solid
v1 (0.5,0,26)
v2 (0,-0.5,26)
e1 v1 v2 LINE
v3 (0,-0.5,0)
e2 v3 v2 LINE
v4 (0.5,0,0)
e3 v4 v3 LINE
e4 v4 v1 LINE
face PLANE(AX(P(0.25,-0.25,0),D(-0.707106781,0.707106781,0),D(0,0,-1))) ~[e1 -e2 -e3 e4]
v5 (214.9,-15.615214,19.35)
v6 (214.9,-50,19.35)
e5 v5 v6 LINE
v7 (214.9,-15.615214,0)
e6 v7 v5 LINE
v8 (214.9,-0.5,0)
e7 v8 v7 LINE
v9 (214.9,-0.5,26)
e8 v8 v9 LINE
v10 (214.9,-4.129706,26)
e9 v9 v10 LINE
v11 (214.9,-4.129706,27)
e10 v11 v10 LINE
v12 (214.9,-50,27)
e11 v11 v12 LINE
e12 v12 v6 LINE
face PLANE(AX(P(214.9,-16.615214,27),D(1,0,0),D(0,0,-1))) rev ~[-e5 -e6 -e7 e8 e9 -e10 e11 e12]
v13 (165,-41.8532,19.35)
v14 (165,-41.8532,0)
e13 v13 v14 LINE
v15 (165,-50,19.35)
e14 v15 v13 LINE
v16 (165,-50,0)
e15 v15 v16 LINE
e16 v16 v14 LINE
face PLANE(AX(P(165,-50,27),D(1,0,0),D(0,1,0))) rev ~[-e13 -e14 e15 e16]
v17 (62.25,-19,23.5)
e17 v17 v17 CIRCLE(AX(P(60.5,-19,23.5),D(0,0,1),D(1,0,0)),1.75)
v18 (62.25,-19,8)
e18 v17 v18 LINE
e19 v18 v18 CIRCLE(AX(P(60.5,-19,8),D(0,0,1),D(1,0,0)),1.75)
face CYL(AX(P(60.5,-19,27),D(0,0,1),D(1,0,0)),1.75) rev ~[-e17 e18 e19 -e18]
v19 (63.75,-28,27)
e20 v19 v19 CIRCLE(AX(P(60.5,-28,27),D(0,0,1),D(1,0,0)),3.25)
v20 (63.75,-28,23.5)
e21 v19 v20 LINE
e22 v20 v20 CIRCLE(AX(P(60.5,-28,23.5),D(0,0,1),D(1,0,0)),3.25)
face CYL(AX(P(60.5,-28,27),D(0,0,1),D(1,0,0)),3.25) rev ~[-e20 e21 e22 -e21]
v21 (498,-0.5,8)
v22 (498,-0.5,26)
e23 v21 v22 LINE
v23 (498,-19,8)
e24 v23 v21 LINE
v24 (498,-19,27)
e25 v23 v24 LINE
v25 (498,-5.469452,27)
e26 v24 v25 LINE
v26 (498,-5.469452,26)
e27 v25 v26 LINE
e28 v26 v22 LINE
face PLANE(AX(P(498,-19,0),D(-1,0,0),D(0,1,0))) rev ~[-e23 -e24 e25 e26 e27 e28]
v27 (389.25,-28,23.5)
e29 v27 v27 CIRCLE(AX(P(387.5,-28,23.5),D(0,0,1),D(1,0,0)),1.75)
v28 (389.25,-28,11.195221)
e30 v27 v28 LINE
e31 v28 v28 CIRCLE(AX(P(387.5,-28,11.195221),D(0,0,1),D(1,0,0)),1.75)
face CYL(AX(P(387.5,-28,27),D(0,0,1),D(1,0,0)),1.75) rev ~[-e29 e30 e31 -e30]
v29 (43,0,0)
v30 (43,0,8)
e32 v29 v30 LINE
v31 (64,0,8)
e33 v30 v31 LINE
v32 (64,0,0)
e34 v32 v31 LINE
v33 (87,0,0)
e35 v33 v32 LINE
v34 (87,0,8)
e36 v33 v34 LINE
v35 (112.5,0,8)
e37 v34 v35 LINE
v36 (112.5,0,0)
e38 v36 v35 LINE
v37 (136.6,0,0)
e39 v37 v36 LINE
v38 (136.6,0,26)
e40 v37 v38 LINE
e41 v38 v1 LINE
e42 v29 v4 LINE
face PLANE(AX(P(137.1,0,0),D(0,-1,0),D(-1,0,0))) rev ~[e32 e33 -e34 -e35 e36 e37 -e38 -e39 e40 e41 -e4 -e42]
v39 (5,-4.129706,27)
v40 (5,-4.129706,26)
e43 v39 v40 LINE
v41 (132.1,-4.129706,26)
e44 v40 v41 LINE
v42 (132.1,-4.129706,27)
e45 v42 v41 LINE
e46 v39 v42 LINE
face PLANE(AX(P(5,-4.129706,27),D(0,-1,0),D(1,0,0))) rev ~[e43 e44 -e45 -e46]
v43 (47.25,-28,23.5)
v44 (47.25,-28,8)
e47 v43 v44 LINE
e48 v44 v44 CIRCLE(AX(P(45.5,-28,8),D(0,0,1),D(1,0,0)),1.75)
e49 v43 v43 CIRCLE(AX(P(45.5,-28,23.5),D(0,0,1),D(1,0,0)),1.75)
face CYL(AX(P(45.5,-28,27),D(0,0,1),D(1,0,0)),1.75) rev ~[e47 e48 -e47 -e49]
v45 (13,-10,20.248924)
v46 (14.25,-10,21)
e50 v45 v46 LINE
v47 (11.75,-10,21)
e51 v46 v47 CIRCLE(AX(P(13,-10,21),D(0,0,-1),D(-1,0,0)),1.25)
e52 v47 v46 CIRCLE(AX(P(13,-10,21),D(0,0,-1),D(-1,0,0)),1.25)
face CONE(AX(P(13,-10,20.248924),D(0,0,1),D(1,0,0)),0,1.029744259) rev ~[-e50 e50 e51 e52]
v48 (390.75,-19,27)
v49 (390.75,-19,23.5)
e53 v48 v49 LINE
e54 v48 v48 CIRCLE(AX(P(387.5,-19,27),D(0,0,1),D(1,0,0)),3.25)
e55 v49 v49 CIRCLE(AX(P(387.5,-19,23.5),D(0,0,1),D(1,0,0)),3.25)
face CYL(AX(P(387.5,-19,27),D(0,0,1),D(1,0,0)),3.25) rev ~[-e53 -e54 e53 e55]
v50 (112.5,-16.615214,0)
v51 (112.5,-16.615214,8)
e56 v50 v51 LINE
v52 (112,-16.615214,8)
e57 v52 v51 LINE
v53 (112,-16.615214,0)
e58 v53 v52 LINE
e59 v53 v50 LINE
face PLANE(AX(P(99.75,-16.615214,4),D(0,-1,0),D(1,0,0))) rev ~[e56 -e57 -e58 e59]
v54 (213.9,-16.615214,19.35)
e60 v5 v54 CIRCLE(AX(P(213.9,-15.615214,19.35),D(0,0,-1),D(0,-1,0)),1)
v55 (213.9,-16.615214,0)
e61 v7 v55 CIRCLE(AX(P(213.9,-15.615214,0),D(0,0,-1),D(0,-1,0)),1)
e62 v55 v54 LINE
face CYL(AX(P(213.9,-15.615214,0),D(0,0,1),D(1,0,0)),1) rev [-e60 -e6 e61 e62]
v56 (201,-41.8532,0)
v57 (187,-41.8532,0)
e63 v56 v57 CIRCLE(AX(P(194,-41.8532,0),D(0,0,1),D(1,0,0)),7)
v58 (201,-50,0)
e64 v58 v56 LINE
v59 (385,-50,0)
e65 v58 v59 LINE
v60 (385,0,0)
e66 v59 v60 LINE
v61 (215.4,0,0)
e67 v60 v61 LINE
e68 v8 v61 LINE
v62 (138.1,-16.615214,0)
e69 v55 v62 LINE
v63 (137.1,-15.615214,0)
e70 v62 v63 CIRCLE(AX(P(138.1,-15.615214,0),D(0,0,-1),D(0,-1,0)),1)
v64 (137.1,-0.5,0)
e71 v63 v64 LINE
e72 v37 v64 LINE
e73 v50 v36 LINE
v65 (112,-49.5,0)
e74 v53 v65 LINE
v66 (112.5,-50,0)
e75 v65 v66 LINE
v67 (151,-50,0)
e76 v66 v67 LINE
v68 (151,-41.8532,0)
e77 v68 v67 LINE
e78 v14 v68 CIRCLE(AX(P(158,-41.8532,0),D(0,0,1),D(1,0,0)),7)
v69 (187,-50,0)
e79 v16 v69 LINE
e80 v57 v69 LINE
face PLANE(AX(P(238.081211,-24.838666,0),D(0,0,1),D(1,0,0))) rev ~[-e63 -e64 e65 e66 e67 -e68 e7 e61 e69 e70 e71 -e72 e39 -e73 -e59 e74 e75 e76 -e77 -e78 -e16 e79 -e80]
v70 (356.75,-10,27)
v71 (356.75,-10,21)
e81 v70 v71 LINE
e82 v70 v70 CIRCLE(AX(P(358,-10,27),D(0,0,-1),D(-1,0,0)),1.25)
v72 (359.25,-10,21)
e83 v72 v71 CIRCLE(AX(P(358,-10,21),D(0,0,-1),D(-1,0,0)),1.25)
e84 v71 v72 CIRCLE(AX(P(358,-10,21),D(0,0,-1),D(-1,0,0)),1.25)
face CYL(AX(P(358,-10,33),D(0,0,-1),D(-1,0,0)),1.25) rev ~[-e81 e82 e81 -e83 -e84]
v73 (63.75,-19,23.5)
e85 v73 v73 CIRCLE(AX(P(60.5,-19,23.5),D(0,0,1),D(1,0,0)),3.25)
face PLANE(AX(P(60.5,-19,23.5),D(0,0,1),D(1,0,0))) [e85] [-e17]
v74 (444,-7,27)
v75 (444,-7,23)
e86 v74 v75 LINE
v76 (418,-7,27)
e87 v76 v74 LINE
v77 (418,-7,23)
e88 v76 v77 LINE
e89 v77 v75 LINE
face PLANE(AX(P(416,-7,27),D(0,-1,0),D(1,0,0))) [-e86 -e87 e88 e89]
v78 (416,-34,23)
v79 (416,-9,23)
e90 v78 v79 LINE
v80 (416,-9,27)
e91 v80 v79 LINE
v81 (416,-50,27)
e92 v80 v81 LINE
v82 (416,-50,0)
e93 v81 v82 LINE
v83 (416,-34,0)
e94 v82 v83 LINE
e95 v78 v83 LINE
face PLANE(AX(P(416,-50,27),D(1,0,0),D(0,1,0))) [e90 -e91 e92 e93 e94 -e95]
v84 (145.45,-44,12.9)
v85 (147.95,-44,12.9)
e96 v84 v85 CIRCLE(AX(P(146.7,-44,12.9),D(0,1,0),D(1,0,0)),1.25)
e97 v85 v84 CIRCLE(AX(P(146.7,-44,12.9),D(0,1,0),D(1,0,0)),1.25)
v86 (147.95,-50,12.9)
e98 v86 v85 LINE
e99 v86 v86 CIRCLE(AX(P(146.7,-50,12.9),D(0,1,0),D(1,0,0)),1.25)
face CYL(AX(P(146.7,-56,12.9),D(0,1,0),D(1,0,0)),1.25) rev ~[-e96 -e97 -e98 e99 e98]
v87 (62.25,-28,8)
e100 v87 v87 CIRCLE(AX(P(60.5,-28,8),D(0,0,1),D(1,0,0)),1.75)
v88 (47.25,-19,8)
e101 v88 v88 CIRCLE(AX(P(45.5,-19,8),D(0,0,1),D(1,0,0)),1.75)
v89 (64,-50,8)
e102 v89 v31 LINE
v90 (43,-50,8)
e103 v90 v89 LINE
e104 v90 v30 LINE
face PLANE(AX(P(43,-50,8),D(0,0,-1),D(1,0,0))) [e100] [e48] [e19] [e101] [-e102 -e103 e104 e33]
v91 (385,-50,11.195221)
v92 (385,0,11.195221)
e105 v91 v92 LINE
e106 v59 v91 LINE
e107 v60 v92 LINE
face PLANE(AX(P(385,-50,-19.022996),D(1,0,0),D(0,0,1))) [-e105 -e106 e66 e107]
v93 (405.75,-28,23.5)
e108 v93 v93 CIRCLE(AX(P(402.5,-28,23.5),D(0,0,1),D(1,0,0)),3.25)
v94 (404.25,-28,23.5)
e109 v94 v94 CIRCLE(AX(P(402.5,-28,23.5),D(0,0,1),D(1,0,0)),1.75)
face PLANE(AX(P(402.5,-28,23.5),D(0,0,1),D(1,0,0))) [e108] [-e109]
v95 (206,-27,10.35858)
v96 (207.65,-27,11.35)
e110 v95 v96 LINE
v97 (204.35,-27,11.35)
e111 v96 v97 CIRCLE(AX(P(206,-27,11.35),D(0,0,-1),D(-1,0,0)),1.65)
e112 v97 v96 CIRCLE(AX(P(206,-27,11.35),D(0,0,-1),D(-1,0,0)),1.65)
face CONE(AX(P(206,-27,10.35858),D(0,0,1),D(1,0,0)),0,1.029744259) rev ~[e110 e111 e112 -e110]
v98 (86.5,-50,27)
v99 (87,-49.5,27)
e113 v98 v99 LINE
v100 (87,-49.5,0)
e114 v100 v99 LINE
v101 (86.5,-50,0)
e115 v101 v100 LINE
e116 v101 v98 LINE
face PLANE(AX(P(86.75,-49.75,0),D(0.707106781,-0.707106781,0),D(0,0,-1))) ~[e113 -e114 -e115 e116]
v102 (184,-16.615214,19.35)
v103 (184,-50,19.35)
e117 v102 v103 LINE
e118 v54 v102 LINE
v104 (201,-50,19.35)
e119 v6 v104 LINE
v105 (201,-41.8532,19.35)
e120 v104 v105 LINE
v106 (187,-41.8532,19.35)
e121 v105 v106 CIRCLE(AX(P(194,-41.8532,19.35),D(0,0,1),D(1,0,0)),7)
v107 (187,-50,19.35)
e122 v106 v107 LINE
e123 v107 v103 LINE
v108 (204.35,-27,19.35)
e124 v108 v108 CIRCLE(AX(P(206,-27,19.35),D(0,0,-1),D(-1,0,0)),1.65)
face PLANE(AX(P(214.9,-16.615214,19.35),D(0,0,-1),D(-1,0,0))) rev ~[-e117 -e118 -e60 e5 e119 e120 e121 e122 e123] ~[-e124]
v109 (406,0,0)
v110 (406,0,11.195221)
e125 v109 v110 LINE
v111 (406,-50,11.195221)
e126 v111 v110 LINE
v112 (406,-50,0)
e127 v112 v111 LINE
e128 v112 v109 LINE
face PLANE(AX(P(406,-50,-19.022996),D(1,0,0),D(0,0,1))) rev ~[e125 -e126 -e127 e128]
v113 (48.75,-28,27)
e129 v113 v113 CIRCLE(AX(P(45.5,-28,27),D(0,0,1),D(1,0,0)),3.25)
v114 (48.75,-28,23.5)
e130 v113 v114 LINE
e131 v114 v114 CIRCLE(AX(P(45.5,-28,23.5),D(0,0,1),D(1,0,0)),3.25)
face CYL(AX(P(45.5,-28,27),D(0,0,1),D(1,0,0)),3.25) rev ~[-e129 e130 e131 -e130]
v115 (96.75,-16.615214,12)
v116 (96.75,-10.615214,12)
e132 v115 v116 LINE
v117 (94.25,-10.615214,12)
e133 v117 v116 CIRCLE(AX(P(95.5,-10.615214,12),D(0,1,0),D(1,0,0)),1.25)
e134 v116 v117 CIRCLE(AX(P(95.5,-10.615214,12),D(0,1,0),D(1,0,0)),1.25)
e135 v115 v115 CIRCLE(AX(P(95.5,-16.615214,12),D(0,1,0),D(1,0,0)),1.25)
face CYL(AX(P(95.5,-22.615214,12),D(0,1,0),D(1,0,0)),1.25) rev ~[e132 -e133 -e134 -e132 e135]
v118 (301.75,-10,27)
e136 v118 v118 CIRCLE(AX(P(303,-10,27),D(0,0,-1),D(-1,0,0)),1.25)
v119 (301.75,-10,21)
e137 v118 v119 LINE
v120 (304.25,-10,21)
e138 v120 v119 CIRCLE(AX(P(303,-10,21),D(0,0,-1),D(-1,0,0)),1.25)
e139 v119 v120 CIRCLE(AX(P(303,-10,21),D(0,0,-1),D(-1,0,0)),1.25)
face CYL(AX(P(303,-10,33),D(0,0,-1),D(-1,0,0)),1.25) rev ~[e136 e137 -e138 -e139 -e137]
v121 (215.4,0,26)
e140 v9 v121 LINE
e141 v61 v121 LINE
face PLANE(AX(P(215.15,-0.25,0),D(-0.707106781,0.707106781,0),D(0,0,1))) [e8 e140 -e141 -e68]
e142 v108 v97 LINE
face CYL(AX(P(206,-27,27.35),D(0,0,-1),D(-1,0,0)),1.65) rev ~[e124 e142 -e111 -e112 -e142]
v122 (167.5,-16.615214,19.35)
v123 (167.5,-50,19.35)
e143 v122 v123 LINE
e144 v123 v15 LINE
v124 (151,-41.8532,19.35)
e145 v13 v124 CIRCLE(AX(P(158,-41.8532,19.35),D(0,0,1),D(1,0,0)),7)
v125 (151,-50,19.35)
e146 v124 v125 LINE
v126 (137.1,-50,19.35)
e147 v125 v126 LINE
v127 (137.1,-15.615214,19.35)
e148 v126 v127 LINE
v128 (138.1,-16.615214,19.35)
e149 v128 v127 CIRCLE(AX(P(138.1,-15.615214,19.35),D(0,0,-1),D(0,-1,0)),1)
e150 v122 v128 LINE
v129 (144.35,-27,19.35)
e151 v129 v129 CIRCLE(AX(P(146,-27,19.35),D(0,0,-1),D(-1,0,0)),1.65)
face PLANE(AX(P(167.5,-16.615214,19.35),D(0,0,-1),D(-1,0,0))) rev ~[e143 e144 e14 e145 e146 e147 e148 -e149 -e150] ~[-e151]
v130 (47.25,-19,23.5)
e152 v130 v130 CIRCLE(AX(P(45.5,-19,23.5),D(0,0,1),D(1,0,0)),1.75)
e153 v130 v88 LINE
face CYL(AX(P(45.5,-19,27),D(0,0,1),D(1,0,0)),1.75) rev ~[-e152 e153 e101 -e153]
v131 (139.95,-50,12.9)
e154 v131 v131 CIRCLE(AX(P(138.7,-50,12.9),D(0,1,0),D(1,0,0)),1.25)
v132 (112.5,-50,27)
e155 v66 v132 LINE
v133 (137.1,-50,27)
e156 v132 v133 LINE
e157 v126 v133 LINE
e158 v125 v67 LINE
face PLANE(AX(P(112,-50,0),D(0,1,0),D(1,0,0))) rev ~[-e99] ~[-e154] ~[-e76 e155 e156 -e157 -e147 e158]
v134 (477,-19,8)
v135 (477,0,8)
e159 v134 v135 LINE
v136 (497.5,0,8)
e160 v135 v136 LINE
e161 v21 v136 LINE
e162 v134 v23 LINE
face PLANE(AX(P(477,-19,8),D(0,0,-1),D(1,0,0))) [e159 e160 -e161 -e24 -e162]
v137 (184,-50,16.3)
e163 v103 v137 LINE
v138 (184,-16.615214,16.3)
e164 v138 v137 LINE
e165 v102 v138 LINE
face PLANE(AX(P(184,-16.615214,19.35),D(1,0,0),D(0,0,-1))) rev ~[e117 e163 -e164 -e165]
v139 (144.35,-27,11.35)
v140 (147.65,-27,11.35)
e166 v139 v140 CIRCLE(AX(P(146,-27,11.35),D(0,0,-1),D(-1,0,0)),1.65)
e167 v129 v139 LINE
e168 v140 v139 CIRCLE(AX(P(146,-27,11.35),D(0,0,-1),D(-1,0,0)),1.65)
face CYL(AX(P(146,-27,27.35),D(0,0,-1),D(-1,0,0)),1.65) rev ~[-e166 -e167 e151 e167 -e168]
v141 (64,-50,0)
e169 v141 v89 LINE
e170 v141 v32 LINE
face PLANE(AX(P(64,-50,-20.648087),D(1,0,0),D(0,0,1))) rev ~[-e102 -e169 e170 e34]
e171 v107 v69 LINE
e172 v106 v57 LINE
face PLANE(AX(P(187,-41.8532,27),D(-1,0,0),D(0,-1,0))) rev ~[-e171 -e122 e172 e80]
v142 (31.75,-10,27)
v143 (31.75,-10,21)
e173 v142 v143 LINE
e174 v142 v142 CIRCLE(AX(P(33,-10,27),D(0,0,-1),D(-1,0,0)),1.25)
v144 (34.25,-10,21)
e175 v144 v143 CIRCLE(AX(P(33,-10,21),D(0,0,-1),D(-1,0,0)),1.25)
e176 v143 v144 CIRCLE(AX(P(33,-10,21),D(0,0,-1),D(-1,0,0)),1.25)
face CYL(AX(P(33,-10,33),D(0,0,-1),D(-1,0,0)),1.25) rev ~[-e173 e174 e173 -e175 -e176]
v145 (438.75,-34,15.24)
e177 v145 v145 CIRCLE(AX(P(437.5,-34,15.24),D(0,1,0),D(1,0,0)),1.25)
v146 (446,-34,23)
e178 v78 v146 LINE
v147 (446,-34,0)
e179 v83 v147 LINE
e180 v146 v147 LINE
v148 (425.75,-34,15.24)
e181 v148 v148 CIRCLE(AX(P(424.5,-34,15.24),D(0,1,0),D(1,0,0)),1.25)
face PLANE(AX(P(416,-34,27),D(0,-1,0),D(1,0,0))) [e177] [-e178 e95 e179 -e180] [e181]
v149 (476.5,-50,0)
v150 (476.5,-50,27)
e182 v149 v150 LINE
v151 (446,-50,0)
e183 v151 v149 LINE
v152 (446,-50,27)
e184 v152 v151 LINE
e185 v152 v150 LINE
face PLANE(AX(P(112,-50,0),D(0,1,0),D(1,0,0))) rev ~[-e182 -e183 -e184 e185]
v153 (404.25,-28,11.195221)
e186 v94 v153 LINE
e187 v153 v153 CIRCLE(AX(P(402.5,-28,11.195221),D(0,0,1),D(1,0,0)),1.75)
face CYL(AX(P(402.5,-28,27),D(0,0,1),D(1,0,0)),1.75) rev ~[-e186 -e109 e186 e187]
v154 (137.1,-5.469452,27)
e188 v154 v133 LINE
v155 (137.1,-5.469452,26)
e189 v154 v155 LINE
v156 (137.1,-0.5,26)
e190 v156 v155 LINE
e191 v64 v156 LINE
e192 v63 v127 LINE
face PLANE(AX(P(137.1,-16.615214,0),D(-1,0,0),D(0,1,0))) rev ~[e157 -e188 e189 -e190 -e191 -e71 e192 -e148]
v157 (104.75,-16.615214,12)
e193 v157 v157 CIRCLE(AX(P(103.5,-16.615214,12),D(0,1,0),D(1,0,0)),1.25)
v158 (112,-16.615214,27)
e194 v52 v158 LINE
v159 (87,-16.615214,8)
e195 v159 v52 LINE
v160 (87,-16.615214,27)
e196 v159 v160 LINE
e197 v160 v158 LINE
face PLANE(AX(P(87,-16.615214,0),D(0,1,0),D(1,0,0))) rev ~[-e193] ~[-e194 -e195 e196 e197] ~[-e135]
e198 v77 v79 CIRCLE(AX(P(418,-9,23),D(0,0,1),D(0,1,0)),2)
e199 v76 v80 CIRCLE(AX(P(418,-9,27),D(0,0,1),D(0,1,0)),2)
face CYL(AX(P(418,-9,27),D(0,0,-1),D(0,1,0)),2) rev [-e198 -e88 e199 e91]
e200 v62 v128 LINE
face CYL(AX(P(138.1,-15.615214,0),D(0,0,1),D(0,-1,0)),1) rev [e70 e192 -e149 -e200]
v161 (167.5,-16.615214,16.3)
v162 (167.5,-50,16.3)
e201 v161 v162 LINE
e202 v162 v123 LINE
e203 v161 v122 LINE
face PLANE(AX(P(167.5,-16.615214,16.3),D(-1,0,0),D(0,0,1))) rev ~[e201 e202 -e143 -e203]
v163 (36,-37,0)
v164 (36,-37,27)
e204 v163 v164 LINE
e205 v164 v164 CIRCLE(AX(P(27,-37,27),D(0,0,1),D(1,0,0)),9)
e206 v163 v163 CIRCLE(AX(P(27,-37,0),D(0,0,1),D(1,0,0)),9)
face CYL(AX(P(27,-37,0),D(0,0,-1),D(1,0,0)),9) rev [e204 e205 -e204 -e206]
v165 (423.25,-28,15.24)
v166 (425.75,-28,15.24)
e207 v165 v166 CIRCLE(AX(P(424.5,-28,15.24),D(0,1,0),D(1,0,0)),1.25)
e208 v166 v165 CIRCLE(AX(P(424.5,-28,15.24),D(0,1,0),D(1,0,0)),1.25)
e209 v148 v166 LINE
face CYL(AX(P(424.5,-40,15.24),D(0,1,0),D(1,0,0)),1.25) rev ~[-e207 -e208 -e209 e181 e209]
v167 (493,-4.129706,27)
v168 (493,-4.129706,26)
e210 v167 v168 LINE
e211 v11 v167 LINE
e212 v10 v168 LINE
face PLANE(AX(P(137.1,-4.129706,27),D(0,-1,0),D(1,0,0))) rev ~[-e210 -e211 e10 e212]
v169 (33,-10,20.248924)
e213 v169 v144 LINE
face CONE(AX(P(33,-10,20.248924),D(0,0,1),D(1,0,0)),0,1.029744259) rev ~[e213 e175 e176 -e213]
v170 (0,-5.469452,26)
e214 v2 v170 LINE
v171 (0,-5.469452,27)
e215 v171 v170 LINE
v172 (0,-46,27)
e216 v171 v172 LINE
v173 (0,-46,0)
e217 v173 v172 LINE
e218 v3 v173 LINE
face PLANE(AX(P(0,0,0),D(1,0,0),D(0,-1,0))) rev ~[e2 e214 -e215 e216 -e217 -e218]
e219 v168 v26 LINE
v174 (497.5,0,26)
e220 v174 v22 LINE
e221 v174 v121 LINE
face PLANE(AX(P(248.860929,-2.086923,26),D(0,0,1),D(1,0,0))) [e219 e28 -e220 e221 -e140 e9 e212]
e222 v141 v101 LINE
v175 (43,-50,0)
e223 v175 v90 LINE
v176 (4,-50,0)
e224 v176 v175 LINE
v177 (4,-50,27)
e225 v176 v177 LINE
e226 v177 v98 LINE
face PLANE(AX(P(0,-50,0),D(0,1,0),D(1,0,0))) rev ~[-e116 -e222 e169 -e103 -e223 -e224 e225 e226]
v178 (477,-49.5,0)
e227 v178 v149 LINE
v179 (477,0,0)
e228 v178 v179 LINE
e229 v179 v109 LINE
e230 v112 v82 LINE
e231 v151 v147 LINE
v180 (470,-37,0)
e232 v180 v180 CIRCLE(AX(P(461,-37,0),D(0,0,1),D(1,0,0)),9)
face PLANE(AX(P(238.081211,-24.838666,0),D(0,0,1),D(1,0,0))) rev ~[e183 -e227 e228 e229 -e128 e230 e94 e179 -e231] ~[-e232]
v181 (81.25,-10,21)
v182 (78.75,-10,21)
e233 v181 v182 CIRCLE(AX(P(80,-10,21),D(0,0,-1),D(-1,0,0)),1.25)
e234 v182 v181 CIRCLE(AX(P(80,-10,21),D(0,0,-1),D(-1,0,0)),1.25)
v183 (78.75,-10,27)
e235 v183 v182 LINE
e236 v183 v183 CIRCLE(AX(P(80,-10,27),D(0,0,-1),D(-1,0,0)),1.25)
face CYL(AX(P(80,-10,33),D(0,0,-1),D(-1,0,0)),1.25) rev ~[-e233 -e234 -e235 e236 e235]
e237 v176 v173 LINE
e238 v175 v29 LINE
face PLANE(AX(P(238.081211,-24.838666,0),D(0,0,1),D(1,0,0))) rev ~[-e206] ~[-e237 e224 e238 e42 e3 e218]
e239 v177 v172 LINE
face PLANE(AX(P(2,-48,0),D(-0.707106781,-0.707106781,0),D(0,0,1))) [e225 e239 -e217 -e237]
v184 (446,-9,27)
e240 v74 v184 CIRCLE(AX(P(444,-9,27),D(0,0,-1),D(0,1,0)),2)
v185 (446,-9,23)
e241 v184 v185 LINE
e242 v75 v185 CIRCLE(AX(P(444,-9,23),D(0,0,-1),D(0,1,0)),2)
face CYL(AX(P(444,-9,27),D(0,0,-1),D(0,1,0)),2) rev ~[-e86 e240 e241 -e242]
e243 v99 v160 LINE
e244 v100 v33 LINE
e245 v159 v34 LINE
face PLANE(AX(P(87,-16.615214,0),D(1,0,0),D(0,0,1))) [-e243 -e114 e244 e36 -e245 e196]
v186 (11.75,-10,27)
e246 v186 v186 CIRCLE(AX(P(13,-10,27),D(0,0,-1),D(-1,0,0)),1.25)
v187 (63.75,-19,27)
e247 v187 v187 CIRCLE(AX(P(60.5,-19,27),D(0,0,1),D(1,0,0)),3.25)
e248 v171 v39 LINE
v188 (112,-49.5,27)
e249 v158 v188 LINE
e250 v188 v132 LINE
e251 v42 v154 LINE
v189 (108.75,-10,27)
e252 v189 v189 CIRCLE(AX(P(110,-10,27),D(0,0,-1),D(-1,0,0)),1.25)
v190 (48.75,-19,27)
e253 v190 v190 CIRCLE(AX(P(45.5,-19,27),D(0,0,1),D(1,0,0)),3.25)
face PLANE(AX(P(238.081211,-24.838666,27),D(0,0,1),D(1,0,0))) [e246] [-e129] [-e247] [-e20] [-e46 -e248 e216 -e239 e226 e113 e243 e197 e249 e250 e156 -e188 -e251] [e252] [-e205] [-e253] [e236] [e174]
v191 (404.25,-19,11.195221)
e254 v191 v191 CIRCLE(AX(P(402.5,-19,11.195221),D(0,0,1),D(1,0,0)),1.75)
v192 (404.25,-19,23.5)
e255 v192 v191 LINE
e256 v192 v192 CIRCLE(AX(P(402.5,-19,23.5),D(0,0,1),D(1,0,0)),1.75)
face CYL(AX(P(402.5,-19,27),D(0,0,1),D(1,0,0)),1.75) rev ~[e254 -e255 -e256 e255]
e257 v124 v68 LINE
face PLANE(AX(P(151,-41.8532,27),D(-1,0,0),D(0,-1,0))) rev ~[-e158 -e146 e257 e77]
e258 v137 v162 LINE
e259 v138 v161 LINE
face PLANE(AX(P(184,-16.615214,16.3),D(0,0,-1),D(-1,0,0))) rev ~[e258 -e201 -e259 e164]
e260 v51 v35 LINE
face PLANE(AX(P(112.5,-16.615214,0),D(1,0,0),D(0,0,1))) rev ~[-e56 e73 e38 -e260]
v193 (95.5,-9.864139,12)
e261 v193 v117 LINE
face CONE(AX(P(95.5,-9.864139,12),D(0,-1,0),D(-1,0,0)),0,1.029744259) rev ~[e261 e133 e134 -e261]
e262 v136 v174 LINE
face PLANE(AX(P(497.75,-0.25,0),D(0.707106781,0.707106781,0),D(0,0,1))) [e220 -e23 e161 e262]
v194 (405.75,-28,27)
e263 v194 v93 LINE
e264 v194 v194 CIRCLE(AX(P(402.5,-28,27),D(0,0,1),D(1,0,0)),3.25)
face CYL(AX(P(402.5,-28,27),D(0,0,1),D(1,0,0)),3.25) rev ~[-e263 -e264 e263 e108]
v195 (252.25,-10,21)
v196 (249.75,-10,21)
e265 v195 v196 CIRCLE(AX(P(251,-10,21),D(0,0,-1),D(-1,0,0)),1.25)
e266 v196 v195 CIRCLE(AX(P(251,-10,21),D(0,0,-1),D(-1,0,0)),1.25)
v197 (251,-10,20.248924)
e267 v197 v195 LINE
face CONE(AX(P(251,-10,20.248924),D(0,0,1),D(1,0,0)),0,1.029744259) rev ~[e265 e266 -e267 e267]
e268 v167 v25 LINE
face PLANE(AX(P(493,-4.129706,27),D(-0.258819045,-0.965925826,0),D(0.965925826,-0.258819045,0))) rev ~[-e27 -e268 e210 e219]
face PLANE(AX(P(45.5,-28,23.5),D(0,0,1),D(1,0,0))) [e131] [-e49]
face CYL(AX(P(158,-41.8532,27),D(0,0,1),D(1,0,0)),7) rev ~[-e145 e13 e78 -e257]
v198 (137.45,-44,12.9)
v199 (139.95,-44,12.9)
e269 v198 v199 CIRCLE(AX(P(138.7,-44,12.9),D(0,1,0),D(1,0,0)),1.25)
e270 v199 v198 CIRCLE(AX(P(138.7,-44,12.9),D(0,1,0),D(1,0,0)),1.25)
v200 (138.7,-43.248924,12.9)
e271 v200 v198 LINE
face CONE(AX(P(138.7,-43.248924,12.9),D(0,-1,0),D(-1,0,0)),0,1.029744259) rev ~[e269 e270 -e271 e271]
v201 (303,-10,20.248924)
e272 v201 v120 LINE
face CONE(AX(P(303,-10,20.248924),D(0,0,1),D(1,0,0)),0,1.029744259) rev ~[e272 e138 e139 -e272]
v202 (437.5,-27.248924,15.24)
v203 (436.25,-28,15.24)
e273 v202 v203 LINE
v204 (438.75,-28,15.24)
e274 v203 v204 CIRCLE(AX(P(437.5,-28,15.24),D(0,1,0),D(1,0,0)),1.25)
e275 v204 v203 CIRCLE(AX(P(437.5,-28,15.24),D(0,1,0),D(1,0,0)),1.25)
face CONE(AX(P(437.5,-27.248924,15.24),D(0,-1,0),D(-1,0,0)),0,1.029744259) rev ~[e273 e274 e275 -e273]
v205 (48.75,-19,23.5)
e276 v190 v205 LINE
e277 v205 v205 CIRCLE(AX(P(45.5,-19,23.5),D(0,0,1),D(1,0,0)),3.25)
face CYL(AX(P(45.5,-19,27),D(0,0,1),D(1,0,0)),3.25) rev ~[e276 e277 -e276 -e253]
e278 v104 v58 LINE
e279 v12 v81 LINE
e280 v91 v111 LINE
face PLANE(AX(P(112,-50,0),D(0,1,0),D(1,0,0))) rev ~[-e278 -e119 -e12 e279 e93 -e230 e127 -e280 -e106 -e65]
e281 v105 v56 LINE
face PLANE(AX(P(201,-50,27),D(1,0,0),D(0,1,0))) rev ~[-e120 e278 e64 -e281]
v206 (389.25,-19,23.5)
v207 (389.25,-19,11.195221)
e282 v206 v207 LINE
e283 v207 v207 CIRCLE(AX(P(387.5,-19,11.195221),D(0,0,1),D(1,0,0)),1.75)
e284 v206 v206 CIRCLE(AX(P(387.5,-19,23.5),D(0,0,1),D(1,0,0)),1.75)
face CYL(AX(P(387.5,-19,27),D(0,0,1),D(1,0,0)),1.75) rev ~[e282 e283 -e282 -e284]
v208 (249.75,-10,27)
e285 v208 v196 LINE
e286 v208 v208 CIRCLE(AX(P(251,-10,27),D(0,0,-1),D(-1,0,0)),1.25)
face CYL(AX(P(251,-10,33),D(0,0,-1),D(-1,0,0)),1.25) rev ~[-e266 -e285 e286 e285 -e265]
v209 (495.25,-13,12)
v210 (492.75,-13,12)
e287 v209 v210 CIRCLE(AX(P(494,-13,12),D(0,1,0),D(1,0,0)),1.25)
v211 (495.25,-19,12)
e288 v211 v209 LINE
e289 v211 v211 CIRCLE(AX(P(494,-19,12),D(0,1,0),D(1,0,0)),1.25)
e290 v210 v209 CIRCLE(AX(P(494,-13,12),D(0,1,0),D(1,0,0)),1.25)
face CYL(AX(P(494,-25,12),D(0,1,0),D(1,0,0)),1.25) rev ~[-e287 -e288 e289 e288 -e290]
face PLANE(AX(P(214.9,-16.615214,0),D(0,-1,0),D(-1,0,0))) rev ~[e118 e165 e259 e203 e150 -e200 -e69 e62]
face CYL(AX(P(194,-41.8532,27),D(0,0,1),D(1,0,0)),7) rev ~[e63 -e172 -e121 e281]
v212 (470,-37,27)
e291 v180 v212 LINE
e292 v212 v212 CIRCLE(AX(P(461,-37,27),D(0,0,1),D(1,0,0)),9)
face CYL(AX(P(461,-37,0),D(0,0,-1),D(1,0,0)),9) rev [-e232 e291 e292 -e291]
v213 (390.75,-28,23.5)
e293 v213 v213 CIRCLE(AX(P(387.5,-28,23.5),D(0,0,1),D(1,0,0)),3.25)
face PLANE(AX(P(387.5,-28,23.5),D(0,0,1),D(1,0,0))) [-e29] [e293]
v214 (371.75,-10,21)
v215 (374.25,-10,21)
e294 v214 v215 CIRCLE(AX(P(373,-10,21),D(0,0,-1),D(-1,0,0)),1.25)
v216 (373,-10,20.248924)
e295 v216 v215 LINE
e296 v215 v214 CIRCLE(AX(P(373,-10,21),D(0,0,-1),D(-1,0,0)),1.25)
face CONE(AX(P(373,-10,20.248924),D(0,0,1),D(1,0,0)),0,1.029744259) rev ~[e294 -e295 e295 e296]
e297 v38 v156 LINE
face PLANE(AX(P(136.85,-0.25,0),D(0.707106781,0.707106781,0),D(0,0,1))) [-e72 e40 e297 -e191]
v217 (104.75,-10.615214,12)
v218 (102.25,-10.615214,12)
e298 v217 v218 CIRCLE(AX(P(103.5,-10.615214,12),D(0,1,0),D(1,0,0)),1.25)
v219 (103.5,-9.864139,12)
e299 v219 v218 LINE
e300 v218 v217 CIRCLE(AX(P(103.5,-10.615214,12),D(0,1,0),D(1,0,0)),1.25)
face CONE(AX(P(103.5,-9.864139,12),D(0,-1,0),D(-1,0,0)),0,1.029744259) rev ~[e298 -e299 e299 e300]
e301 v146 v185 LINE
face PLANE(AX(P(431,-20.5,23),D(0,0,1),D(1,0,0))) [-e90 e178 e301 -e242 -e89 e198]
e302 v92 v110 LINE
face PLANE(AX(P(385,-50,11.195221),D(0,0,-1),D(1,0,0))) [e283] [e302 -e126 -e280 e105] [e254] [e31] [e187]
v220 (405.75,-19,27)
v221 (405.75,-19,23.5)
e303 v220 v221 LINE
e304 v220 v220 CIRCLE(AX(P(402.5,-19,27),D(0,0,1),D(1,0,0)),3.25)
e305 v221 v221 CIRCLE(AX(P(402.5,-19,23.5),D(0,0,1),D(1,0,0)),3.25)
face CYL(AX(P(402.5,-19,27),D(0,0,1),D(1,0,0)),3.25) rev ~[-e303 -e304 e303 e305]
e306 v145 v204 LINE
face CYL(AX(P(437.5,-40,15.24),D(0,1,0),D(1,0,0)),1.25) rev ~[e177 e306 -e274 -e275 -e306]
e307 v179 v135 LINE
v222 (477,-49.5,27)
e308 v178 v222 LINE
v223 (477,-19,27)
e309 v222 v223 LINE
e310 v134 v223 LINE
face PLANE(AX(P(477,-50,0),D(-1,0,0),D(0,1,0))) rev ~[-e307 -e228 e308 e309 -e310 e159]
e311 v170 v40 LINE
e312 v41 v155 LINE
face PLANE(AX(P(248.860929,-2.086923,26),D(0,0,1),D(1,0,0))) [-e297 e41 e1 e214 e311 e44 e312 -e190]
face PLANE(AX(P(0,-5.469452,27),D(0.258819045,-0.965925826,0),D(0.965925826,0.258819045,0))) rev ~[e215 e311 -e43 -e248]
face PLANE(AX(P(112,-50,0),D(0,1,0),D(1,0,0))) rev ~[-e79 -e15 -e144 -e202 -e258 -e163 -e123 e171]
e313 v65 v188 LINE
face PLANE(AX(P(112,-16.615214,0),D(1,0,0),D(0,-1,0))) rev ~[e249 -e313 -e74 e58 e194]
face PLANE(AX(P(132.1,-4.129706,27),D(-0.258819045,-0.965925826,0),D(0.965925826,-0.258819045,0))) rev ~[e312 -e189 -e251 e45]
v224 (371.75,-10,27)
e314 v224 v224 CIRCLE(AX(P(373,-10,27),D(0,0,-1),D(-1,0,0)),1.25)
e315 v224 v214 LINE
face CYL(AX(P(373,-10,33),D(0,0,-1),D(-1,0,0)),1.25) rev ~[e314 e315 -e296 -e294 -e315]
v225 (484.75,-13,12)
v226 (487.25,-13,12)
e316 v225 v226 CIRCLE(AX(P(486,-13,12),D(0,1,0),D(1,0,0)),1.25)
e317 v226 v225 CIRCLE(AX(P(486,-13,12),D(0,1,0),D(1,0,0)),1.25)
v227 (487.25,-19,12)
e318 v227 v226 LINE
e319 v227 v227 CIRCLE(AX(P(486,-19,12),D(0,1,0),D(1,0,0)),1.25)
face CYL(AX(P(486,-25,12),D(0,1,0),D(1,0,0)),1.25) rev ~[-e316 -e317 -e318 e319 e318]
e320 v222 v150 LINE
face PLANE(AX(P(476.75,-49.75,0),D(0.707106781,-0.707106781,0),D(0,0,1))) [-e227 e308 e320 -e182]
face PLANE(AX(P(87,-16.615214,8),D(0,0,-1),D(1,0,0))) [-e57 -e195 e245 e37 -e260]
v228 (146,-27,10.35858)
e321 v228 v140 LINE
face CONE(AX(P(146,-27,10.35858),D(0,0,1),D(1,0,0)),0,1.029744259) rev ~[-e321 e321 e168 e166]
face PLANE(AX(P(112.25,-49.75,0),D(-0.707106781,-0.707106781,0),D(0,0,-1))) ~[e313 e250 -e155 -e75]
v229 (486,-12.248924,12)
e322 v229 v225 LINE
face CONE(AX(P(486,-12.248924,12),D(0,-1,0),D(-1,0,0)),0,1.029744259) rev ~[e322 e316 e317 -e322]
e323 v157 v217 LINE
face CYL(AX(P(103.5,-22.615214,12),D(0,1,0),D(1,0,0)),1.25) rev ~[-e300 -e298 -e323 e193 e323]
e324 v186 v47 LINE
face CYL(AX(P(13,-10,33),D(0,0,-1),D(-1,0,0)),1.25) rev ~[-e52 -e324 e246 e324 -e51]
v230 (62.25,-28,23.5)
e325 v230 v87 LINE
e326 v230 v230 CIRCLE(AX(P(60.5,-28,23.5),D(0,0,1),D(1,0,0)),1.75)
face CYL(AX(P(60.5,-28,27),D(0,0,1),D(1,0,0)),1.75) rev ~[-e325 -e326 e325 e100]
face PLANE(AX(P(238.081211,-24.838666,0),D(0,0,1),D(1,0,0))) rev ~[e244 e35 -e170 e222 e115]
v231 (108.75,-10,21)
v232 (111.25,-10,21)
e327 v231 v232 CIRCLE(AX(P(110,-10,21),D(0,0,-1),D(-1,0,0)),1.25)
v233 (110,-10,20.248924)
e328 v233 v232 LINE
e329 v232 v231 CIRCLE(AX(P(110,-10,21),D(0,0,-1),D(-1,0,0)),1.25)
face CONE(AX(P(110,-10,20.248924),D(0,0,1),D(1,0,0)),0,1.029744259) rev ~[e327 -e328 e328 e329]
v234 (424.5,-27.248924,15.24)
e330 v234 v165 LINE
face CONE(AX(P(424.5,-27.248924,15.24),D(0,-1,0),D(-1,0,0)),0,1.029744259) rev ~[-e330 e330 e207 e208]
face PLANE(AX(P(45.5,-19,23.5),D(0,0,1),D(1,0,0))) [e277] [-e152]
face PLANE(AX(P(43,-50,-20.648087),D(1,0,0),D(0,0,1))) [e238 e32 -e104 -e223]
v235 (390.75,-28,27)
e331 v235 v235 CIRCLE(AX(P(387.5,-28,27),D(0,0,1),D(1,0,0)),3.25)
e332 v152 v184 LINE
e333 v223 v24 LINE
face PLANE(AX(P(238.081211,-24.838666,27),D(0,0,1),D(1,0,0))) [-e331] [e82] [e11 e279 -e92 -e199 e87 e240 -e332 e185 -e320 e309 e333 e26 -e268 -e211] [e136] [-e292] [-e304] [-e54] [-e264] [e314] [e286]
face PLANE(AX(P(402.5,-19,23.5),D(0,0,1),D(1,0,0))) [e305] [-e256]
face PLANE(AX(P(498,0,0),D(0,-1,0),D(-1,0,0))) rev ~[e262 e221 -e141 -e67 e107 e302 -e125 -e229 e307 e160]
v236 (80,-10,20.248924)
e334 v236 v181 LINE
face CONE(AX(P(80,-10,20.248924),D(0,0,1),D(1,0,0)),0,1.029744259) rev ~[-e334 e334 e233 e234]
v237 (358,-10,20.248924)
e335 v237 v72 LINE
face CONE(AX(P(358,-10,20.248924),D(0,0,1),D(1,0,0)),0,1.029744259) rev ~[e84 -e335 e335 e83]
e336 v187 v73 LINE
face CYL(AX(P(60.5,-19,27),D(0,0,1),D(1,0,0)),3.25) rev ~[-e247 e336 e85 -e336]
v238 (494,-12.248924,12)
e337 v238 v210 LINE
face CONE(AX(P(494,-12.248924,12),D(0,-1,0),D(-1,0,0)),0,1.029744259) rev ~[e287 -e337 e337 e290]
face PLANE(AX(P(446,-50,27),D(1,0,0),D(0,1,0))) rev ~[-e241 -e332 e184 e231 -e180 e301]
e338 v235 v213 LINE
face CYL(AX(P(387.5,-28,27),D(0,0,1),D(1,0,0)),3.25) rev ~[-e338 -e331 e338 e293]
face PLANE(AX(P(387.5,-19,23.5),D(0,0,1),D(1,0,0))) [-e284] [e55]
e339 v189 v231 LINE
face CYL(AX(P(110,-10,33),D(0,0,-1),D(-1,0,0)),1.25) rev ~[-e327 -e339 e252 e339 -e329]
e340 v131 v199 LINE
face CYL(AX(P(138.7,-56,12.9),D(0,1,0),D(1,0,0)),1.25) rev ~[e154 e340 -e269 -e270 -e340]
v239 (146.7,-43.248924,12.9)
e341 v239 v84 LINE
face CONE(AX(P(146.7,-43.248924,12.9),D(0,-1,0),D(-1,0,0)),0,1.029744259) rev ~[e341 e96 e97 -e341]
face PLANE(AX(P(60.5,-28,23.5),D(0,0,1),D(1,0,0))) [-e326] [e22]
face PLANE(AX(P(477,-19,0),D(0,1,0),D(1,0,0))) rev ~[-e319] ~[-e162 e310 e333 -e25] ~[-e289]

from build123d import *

# Parameters (mm, degrees)
SKETCH6_R             = 9
BOSS_EXTRUDE2_DEPTH   = 27
CHAMFER1_SIZE         = 4
CUT_EXTRUDE5_DEPTH    = 28
CHAMFER2_SIZE         = 0.5
CHAMFER3_SIZE         = 0.5
SKETCH8_W             = 30
SKETCH8_H             = 16
CUT_EXTRUDE6_DEPTH    = 27
SKETCH8_3_W           = 30
SKETCH8_3_H           = 27
CUT_EXTRUDE7_DEPTH    = 4
FILLET1_R             = 2
CUT_EXTRUDE8_DEPTH    = 1
SKETCH11_W            = 21
SKETCH11_H            = 28.648086621
CUT_EXTRUDE9_DEPTH    = 51
SKETCH12_W            = 21
SKETCH12_H            = 8
CUT_EXTRUDE10_DEPTH   = 20
SKETCH13_W            = 21
SKETCH13_H            = 30.21821637
CUT_EXTRUDE11_DEPTH   = 51
CUT_EXTRUDE12_DEPTH   = 34.38478555
SKETCH15_R            = 1.75
CUT_EXTRUDE13_DEPTH   = 28
SKETCH16_R            = 3.25
CUT_EXTRUDE14_DEPTH   = 3.5
FILLET2_R             = 1
M4_TAPPED_HOLE1_D     = 3.3
M4_TAPPED_HOLE1_DEPTH = 8
M4_TAPPED_HOLE1_TIP   = 0.991420021
M3_TAPPED_HOLE1_D     = 2.5
M3_TAPPED_HOLE1_DEPTH = 6
M3_TAPPED_HOLE1_TIP   = 0.751075774
M3_TAPPED_HOLE2_D     = 2.5
M3_TAPPED_HOLE2_DEPTH = 6
M3_TAPPED_HOLE2_TIP   = 0.751075774
M3_TAPPED_HOLE3_D     = 2.5
M3_TAPPED_HOLE3_DEPTH = 6
M3_TAPPED_HOLE3_TIP   = 0.751075774
M3_TAPPED_HOLE4_D     = 2.5
M3_TAPPED_HOLE4_DEPTH = 6
M3_TAPPED_HOLE4_TIP   = 0.751075774
M3_TAPPED_HOLE5_D     = 2.5
M3_TAPPED_HOLE5_DEPTH = 6
M3_TAPPED_HOLE5_TIP   = 0.751075774
SKETCH29_W            = 25.5
SKETCH29_H            = 8
CUT_EXTRUDE15_DEPTH   = 17.61521445


with BuildPart() as part:
    # Sketch6 → Boss-Extrude2 (new body)
    with BuildSketch(Plane.XY):
        Polygon((112, -50), (477, -50), (477, -19), (498, -19), (498, 0), (214.9, 0), (214.9, -16.61521445), (137.1, -16.61521445), (137.1, 0), (0, 0), (0, -50), (87, -50), (87, -16.61521445), (112, -16.61521445), align=None)
        with Locations((27, -37)):
            Circle(SKETCH6_R, mode=Mode.SUBTRACT)
        with Locations((461, -37)):
            Circle(SKETCH6_R, mode=Mode.SUBTRACT)
    extrude(amount=BOSS_EXTRUDE2_DEPTH)

    # Chamfer1
    chamfer1_edges = [part.edges().sort_by_distance(p)[0] for p in [
        (0, -50, 13.5),
    ]]
    chamfer(chamfer1_edges, length=CHAMFER1_SIZE)

    # Sketch7 → Cut-Extrude5 (cut, through all)
    with BuildSketch(Plane.XY.offset(27)):
        with BuildLine():
            Line((151, -41.853199992), (151, -50))
            Line((151, -50), (165, -50))
            Line((165, -50), (165, -41.853199992))
            ThreePointArc((165, -41.853199992), (158, -34.853199992), (151, -41.853199992))
        make_face()
        with BuildLine():
            Line((187, -50), (201, -50))
            Line((201, -50), (201, -41.853199992))
            ThreePointArc((201, -41.853199992), (194, -34.853199992), (187, -41.853199992))
            Line((187, -41.853199992), (187, -50))
        make_face()
    extrude(amount=-CUT_EXTRUDE5_DEPTH, mode=Mode.SUBTRACT)

    # Chamfer2
    chamfer2_edges = [part.edges().sort_by_distance(p)[0] for p in [
        (137.1, 0, 13.5),
        (214.9, 0, 13.5),
    ]]
    chamfer(chamfer2_edges, length=CHAMFER2_SIZE)

    # Chamfer3
    chamfer3_edges = [part.edges().sort_by_distance(p)[0] for p in [
        (0, 0, 13.5),
        (498, 0, 13.5),
        (477, -50, 13.5),
        (112, -50, 13.5),
        (87, -50, 13.5),
    ]]
    chamfer(chamfer3_edges, length=CHAMFER3_SIZE)

    # Sketch8 → Cut-Extrude6 (cut)
    with BuildSketch(Plane.XY.offset(27)):
        with Locations((431, -42)):
            Rectangle(SKETCH8_W, SKETCH8_H)
    extrude(amount=-CUT_EXTRUDE6_DEPTH, mode=Mode.SUBTRACT)

    # Sketch8<3> → Cut-Extrude7 (cut)
    with BuildSketch(Plane.XY.offset(27)):
        with Locations((431, -20.5)):
            Rectangle(SKETCH8_3_W, SKETCH8_3_H)
    extrude(amount=-CUT_EXTRUDE7_DEPTH, mode=Mode.SUBTRACT)

    # Fillet1
    fillet1_edges = [part.edges().sort_by_distance(p)[0] for p in [
        (416, -7, 25),
        (446, -7, 25),
    ]]
    fillet(fillet1_edges, radius=FILLET1_R)

    # Sketch10 → Cut-Extrude8 (cut)
    with BuildSketch(Plane.XY.offset(27)):
        Polygon((5, -4.129705764), (132.1, -4.129705764), (137.1, -5.469451726), (137.1, -4.129705764), (493, -4.129705764), (498, -5.469451726), (498.112682479, -4.129705764), (498.112682479, 0), (0, 0), (0, -4.129705764), (0, -5.469451726), align=None)
    extrude(amount=-CUT_EXTRUDE8_DEPTH, mode=Mode.SUBTRACT)

    # Sketch11 → Cut-Extrude9 (cut, through all)
    with BuildSketch(Plane.XZ.offset(50)):
        with Locations((53.5, -6.324043311)):
            Rectangle(SKETCH11_W, SKETCH11_H)
    extrude(amount=-CUT_EXTRUDE9_DEPTH, mode=Mode.SUBTRACT)

    # Sketch12 → Cut-Extrude10 (cut, through all)
    with BuildSketch(Plane.XZ.offset(19)):
        with Locations((487.5, 4)):
            Rectangle(SKETCH12_W, SKETCH12_H)
    extrude(amount=-CUT_EXTRUDE10_DEPTH, mode=Mode.SUBTRACT)

    # Sketch13 → Cut-Extrude11 (cut, through all)
    with BuildSketch(Plane.XZ.offset(50)):
        with Locations((395.5, -3.9138874)):
            Rectangle(SKETCH13_W, SKETCH13_H)
    extrude(amount=-CUT_EXTRUDE11_DEPTH, mode=Mode.SUBTRACT)

    # Sketch14 → Cut-Extrude12 (cut, through all)
    with BuildSketch(Plane(origin=(0, -16.61521445, 0), x_dir=(1, 0, 0), z_dir=(0, 1, 0))):
        Polygon((137.1, -27), (214.9, -27), (214.9, -19.35), (184, -19.35), (184, -16.3), (167.5, -16.3), (167.5, -19.35), (137.1, -19.35), align=None)
    extrude(amount=-CUT_EXTRUDE12_DEPTH, mode=Mode.SUBTRACT)

    # Sketch15 → Cut-Extrude13 (cut, through all)
    with BuildSketch(Plane.XY.offset(27)):
        with Locations((45.5, -19)):
            Circle(SKETCH15_R)
        with Locations((60.5, -19)):
            Circle(SKETCH15_R)
        with Locations((45.5, -28)):
            Circle(SKETCH15_R)
        with Locations((60.5, -28)):
            Circle(SKETCH15_R)
        with Locations((387.5, -19)):
            Circle(SKETCH15_R)
        with Locations((402.5, -19)):
            Circle(SKETCH15_R)
        with Locations((387.5, -28)):
            Circle(SKETCH15_R)
        with Locations((402.5, -28)):
            Circle(SKETCH15_R)
    extrude(amount=-CUT_EXTRUDE13_DEPTH, mode=Mode.SUBTRACT)

    # Sketch16 → Cut-Extrude14 (cut)
    with BuildSketch(Plane.XY.offset(27)):
        with Locations((45.5, -19)):
            Circle(SKETCH16_R)
        with Locations((60.5, -19)):
            Circle(SKETCH16_R)
        with Locations((60.5, -28)):
            Circle(SKETCH16_R)
        with Locations((45.5, -28)):
            Circle(SKETCH16_R)
        with Locations((387.5, -19)):
            Circle(SKETCH16_R)
        with Locations((402.5, -19)):
            Circle(SKETCH16_R)
        with Locations((402.5, -28)):
            Circle(SKETCH16_R)
        with Locations((387.5, -28)):
            Circle(SKETCH16_R)
    extrude(amount=-CUT_EXTRUDE14_DEPTH, mode=Mode.SUBTRACT)

    # Fillet2
    fillet2_edges = [part.edges().sort_by_distance(p)[0] for p in [
        (137.1, -16.61521445, 9.675),
        (214.9, -16.61521445, 9.675),
    ]]
    fillet(fillet2_edges, radius=FILLET2_R)

    # M4 Tapped Hole1
    with Locations(Plane.XY.offset(19.35)):
        with Locations((146, -27), (206, -27)):
            Hole(M4_TAPPED_HOLE1_D / 2, depth=M4_TAPPED_HOLE1_DEPTH)
            with Locations((0, 0, -(M4_TAPPED_HOLE1_DEPTH + M4_TAPPED_HOLE1_TIP / 2))):  # 118° drill point
                Cone(0, M4_TAPPED_HOLE1_D / 2, M4_TAPPED_HOLE1_TIP, mode=Mode.SUBTRACT)

    # M3 Tapped Hole1
    with Locations(Plane.XY.offset(27)):
        with Locations((13, -10), (33, -10), (80, -10), (110, -10), (251, -10), (303, -10), (373, -10), (358, -10)):
            Hole(M3_TAPPED_HOLE1_D / 2, depth=M3_TAPPED_HOLE1_DEPTH)
            with Locations((0, 0, -(M3_TAPPED_HOLE1_DEPTH + M3_TAPPED_HOLE1_TIP / 2))):  # 118° drill point
                Cone(0, M3_TAPPED_HOLE1_D / 2, M3_TAPPED_HOLE1_TIP, mode=Mode.SUBTRACT)

    # M3 Tapped Hole2
    with Locations(Plane(origin=(0, -19, 0), x_dir=(-1, 0, 0), z_dir=(0, -1, 0))):
        with Locations((-486, -12), (-494, -12)):
            Hole(M3_TAPPED_HOLE2_D / 2, depth=M3_TAPPED_HOLE2_DEPTH)
            with Locations((0, 0, -(M3_TAPPED_HOLE2_DEPTH + M3_TAPPED_HOLE2_TIP / 2))):  # 118° drill point
                Cone(0, M3_TAPPED_HOLE2_D / 2, M3_TAPPED_HOLE2_TIP, mode=Mode.SUBTRACT)

    # M3 Tapped Hole3
    with Locations(Plane(origin=(0, -34, 0), x_dir=(-1, 0, 0), z_dir=(0, -1, 0))):
        with Locations((-424.5, -15.24), (-437.5, -15.24)):
            Hole(M3_TAPPED_HOLE3_D / 2, depth=M3_TAPPED_HOLE3_DEPTH)
            with Locations((0, 0, -(M3_TAPPED_HOLE3_DEPTH + M3_TAPPED_HOLE3_TIP / 2))):  # 118° drill point
                Cone(0, M3_TAPPED_HOLE3_D / 2, M3_TAPPED_HOLE3_TIP, mode=Mode.SUBTRACT)

    # M3 Tapped Hole4
    with Locations(Plane(origin=(0, -50, 0), x_dir=(-1, 0, 0), z_dir=(0, -1, 0))):
        with Locations((-138.7, -12.9), (-146.7, -12.9)):
            Hole(M3_TAPPED_HOLE4_D / 2, depth=M3_TAPPED_HOLE4_DEPTH)
            with Locations((0, 0, -(M3_TAPPED_HOLE4_DEPTH + M3_TAPPED_HOLE4_TIP / 2))):  # 118° drill point
                Cone(0, M3_TAPPED_HOLE4_D / 2, M3_TAPPED_HOLE4_TIP, mode=Mode.SUBTRACT)

    # M3 Tapped Hole5
    with Locations(Plane(origin=(0, -16.61521445, 0), x_dir=(-1, 0, 0), z_dir=(0, -1, 0))):
        with Locations((-95.5, -12), (-103.5, -12)):
            Hole(M3_TAPPED_HOLE5_D / 2, depth=M3_TAPPED_HOLE5_DEPTH)
            with Locations((0, 0, -(M3_TAPPED_HOLE5_DEPTH + M3_TAPPED_HOLE5_TIP / 2))):  # 118° drill point
                Cone(0, M3_TAPPED_HOLE5_D / 2, M3_TAPPED_HOLE5_TIP, mode=Mode.SUBTRACT)

    # Sketch29 → Cut-Extrude15 (cut, through all)
    with BuildSketch(Plane.XZ.offset(16.61521445)):
        with Locations((99.75, 4)):
            Rectangle(SKETCH29_W, SKETCH29_H)
    extrude(amount=-CUT_EXTRUDE15_DEPTH, mode=Mode.SUBTRACT)


solid = part.part
